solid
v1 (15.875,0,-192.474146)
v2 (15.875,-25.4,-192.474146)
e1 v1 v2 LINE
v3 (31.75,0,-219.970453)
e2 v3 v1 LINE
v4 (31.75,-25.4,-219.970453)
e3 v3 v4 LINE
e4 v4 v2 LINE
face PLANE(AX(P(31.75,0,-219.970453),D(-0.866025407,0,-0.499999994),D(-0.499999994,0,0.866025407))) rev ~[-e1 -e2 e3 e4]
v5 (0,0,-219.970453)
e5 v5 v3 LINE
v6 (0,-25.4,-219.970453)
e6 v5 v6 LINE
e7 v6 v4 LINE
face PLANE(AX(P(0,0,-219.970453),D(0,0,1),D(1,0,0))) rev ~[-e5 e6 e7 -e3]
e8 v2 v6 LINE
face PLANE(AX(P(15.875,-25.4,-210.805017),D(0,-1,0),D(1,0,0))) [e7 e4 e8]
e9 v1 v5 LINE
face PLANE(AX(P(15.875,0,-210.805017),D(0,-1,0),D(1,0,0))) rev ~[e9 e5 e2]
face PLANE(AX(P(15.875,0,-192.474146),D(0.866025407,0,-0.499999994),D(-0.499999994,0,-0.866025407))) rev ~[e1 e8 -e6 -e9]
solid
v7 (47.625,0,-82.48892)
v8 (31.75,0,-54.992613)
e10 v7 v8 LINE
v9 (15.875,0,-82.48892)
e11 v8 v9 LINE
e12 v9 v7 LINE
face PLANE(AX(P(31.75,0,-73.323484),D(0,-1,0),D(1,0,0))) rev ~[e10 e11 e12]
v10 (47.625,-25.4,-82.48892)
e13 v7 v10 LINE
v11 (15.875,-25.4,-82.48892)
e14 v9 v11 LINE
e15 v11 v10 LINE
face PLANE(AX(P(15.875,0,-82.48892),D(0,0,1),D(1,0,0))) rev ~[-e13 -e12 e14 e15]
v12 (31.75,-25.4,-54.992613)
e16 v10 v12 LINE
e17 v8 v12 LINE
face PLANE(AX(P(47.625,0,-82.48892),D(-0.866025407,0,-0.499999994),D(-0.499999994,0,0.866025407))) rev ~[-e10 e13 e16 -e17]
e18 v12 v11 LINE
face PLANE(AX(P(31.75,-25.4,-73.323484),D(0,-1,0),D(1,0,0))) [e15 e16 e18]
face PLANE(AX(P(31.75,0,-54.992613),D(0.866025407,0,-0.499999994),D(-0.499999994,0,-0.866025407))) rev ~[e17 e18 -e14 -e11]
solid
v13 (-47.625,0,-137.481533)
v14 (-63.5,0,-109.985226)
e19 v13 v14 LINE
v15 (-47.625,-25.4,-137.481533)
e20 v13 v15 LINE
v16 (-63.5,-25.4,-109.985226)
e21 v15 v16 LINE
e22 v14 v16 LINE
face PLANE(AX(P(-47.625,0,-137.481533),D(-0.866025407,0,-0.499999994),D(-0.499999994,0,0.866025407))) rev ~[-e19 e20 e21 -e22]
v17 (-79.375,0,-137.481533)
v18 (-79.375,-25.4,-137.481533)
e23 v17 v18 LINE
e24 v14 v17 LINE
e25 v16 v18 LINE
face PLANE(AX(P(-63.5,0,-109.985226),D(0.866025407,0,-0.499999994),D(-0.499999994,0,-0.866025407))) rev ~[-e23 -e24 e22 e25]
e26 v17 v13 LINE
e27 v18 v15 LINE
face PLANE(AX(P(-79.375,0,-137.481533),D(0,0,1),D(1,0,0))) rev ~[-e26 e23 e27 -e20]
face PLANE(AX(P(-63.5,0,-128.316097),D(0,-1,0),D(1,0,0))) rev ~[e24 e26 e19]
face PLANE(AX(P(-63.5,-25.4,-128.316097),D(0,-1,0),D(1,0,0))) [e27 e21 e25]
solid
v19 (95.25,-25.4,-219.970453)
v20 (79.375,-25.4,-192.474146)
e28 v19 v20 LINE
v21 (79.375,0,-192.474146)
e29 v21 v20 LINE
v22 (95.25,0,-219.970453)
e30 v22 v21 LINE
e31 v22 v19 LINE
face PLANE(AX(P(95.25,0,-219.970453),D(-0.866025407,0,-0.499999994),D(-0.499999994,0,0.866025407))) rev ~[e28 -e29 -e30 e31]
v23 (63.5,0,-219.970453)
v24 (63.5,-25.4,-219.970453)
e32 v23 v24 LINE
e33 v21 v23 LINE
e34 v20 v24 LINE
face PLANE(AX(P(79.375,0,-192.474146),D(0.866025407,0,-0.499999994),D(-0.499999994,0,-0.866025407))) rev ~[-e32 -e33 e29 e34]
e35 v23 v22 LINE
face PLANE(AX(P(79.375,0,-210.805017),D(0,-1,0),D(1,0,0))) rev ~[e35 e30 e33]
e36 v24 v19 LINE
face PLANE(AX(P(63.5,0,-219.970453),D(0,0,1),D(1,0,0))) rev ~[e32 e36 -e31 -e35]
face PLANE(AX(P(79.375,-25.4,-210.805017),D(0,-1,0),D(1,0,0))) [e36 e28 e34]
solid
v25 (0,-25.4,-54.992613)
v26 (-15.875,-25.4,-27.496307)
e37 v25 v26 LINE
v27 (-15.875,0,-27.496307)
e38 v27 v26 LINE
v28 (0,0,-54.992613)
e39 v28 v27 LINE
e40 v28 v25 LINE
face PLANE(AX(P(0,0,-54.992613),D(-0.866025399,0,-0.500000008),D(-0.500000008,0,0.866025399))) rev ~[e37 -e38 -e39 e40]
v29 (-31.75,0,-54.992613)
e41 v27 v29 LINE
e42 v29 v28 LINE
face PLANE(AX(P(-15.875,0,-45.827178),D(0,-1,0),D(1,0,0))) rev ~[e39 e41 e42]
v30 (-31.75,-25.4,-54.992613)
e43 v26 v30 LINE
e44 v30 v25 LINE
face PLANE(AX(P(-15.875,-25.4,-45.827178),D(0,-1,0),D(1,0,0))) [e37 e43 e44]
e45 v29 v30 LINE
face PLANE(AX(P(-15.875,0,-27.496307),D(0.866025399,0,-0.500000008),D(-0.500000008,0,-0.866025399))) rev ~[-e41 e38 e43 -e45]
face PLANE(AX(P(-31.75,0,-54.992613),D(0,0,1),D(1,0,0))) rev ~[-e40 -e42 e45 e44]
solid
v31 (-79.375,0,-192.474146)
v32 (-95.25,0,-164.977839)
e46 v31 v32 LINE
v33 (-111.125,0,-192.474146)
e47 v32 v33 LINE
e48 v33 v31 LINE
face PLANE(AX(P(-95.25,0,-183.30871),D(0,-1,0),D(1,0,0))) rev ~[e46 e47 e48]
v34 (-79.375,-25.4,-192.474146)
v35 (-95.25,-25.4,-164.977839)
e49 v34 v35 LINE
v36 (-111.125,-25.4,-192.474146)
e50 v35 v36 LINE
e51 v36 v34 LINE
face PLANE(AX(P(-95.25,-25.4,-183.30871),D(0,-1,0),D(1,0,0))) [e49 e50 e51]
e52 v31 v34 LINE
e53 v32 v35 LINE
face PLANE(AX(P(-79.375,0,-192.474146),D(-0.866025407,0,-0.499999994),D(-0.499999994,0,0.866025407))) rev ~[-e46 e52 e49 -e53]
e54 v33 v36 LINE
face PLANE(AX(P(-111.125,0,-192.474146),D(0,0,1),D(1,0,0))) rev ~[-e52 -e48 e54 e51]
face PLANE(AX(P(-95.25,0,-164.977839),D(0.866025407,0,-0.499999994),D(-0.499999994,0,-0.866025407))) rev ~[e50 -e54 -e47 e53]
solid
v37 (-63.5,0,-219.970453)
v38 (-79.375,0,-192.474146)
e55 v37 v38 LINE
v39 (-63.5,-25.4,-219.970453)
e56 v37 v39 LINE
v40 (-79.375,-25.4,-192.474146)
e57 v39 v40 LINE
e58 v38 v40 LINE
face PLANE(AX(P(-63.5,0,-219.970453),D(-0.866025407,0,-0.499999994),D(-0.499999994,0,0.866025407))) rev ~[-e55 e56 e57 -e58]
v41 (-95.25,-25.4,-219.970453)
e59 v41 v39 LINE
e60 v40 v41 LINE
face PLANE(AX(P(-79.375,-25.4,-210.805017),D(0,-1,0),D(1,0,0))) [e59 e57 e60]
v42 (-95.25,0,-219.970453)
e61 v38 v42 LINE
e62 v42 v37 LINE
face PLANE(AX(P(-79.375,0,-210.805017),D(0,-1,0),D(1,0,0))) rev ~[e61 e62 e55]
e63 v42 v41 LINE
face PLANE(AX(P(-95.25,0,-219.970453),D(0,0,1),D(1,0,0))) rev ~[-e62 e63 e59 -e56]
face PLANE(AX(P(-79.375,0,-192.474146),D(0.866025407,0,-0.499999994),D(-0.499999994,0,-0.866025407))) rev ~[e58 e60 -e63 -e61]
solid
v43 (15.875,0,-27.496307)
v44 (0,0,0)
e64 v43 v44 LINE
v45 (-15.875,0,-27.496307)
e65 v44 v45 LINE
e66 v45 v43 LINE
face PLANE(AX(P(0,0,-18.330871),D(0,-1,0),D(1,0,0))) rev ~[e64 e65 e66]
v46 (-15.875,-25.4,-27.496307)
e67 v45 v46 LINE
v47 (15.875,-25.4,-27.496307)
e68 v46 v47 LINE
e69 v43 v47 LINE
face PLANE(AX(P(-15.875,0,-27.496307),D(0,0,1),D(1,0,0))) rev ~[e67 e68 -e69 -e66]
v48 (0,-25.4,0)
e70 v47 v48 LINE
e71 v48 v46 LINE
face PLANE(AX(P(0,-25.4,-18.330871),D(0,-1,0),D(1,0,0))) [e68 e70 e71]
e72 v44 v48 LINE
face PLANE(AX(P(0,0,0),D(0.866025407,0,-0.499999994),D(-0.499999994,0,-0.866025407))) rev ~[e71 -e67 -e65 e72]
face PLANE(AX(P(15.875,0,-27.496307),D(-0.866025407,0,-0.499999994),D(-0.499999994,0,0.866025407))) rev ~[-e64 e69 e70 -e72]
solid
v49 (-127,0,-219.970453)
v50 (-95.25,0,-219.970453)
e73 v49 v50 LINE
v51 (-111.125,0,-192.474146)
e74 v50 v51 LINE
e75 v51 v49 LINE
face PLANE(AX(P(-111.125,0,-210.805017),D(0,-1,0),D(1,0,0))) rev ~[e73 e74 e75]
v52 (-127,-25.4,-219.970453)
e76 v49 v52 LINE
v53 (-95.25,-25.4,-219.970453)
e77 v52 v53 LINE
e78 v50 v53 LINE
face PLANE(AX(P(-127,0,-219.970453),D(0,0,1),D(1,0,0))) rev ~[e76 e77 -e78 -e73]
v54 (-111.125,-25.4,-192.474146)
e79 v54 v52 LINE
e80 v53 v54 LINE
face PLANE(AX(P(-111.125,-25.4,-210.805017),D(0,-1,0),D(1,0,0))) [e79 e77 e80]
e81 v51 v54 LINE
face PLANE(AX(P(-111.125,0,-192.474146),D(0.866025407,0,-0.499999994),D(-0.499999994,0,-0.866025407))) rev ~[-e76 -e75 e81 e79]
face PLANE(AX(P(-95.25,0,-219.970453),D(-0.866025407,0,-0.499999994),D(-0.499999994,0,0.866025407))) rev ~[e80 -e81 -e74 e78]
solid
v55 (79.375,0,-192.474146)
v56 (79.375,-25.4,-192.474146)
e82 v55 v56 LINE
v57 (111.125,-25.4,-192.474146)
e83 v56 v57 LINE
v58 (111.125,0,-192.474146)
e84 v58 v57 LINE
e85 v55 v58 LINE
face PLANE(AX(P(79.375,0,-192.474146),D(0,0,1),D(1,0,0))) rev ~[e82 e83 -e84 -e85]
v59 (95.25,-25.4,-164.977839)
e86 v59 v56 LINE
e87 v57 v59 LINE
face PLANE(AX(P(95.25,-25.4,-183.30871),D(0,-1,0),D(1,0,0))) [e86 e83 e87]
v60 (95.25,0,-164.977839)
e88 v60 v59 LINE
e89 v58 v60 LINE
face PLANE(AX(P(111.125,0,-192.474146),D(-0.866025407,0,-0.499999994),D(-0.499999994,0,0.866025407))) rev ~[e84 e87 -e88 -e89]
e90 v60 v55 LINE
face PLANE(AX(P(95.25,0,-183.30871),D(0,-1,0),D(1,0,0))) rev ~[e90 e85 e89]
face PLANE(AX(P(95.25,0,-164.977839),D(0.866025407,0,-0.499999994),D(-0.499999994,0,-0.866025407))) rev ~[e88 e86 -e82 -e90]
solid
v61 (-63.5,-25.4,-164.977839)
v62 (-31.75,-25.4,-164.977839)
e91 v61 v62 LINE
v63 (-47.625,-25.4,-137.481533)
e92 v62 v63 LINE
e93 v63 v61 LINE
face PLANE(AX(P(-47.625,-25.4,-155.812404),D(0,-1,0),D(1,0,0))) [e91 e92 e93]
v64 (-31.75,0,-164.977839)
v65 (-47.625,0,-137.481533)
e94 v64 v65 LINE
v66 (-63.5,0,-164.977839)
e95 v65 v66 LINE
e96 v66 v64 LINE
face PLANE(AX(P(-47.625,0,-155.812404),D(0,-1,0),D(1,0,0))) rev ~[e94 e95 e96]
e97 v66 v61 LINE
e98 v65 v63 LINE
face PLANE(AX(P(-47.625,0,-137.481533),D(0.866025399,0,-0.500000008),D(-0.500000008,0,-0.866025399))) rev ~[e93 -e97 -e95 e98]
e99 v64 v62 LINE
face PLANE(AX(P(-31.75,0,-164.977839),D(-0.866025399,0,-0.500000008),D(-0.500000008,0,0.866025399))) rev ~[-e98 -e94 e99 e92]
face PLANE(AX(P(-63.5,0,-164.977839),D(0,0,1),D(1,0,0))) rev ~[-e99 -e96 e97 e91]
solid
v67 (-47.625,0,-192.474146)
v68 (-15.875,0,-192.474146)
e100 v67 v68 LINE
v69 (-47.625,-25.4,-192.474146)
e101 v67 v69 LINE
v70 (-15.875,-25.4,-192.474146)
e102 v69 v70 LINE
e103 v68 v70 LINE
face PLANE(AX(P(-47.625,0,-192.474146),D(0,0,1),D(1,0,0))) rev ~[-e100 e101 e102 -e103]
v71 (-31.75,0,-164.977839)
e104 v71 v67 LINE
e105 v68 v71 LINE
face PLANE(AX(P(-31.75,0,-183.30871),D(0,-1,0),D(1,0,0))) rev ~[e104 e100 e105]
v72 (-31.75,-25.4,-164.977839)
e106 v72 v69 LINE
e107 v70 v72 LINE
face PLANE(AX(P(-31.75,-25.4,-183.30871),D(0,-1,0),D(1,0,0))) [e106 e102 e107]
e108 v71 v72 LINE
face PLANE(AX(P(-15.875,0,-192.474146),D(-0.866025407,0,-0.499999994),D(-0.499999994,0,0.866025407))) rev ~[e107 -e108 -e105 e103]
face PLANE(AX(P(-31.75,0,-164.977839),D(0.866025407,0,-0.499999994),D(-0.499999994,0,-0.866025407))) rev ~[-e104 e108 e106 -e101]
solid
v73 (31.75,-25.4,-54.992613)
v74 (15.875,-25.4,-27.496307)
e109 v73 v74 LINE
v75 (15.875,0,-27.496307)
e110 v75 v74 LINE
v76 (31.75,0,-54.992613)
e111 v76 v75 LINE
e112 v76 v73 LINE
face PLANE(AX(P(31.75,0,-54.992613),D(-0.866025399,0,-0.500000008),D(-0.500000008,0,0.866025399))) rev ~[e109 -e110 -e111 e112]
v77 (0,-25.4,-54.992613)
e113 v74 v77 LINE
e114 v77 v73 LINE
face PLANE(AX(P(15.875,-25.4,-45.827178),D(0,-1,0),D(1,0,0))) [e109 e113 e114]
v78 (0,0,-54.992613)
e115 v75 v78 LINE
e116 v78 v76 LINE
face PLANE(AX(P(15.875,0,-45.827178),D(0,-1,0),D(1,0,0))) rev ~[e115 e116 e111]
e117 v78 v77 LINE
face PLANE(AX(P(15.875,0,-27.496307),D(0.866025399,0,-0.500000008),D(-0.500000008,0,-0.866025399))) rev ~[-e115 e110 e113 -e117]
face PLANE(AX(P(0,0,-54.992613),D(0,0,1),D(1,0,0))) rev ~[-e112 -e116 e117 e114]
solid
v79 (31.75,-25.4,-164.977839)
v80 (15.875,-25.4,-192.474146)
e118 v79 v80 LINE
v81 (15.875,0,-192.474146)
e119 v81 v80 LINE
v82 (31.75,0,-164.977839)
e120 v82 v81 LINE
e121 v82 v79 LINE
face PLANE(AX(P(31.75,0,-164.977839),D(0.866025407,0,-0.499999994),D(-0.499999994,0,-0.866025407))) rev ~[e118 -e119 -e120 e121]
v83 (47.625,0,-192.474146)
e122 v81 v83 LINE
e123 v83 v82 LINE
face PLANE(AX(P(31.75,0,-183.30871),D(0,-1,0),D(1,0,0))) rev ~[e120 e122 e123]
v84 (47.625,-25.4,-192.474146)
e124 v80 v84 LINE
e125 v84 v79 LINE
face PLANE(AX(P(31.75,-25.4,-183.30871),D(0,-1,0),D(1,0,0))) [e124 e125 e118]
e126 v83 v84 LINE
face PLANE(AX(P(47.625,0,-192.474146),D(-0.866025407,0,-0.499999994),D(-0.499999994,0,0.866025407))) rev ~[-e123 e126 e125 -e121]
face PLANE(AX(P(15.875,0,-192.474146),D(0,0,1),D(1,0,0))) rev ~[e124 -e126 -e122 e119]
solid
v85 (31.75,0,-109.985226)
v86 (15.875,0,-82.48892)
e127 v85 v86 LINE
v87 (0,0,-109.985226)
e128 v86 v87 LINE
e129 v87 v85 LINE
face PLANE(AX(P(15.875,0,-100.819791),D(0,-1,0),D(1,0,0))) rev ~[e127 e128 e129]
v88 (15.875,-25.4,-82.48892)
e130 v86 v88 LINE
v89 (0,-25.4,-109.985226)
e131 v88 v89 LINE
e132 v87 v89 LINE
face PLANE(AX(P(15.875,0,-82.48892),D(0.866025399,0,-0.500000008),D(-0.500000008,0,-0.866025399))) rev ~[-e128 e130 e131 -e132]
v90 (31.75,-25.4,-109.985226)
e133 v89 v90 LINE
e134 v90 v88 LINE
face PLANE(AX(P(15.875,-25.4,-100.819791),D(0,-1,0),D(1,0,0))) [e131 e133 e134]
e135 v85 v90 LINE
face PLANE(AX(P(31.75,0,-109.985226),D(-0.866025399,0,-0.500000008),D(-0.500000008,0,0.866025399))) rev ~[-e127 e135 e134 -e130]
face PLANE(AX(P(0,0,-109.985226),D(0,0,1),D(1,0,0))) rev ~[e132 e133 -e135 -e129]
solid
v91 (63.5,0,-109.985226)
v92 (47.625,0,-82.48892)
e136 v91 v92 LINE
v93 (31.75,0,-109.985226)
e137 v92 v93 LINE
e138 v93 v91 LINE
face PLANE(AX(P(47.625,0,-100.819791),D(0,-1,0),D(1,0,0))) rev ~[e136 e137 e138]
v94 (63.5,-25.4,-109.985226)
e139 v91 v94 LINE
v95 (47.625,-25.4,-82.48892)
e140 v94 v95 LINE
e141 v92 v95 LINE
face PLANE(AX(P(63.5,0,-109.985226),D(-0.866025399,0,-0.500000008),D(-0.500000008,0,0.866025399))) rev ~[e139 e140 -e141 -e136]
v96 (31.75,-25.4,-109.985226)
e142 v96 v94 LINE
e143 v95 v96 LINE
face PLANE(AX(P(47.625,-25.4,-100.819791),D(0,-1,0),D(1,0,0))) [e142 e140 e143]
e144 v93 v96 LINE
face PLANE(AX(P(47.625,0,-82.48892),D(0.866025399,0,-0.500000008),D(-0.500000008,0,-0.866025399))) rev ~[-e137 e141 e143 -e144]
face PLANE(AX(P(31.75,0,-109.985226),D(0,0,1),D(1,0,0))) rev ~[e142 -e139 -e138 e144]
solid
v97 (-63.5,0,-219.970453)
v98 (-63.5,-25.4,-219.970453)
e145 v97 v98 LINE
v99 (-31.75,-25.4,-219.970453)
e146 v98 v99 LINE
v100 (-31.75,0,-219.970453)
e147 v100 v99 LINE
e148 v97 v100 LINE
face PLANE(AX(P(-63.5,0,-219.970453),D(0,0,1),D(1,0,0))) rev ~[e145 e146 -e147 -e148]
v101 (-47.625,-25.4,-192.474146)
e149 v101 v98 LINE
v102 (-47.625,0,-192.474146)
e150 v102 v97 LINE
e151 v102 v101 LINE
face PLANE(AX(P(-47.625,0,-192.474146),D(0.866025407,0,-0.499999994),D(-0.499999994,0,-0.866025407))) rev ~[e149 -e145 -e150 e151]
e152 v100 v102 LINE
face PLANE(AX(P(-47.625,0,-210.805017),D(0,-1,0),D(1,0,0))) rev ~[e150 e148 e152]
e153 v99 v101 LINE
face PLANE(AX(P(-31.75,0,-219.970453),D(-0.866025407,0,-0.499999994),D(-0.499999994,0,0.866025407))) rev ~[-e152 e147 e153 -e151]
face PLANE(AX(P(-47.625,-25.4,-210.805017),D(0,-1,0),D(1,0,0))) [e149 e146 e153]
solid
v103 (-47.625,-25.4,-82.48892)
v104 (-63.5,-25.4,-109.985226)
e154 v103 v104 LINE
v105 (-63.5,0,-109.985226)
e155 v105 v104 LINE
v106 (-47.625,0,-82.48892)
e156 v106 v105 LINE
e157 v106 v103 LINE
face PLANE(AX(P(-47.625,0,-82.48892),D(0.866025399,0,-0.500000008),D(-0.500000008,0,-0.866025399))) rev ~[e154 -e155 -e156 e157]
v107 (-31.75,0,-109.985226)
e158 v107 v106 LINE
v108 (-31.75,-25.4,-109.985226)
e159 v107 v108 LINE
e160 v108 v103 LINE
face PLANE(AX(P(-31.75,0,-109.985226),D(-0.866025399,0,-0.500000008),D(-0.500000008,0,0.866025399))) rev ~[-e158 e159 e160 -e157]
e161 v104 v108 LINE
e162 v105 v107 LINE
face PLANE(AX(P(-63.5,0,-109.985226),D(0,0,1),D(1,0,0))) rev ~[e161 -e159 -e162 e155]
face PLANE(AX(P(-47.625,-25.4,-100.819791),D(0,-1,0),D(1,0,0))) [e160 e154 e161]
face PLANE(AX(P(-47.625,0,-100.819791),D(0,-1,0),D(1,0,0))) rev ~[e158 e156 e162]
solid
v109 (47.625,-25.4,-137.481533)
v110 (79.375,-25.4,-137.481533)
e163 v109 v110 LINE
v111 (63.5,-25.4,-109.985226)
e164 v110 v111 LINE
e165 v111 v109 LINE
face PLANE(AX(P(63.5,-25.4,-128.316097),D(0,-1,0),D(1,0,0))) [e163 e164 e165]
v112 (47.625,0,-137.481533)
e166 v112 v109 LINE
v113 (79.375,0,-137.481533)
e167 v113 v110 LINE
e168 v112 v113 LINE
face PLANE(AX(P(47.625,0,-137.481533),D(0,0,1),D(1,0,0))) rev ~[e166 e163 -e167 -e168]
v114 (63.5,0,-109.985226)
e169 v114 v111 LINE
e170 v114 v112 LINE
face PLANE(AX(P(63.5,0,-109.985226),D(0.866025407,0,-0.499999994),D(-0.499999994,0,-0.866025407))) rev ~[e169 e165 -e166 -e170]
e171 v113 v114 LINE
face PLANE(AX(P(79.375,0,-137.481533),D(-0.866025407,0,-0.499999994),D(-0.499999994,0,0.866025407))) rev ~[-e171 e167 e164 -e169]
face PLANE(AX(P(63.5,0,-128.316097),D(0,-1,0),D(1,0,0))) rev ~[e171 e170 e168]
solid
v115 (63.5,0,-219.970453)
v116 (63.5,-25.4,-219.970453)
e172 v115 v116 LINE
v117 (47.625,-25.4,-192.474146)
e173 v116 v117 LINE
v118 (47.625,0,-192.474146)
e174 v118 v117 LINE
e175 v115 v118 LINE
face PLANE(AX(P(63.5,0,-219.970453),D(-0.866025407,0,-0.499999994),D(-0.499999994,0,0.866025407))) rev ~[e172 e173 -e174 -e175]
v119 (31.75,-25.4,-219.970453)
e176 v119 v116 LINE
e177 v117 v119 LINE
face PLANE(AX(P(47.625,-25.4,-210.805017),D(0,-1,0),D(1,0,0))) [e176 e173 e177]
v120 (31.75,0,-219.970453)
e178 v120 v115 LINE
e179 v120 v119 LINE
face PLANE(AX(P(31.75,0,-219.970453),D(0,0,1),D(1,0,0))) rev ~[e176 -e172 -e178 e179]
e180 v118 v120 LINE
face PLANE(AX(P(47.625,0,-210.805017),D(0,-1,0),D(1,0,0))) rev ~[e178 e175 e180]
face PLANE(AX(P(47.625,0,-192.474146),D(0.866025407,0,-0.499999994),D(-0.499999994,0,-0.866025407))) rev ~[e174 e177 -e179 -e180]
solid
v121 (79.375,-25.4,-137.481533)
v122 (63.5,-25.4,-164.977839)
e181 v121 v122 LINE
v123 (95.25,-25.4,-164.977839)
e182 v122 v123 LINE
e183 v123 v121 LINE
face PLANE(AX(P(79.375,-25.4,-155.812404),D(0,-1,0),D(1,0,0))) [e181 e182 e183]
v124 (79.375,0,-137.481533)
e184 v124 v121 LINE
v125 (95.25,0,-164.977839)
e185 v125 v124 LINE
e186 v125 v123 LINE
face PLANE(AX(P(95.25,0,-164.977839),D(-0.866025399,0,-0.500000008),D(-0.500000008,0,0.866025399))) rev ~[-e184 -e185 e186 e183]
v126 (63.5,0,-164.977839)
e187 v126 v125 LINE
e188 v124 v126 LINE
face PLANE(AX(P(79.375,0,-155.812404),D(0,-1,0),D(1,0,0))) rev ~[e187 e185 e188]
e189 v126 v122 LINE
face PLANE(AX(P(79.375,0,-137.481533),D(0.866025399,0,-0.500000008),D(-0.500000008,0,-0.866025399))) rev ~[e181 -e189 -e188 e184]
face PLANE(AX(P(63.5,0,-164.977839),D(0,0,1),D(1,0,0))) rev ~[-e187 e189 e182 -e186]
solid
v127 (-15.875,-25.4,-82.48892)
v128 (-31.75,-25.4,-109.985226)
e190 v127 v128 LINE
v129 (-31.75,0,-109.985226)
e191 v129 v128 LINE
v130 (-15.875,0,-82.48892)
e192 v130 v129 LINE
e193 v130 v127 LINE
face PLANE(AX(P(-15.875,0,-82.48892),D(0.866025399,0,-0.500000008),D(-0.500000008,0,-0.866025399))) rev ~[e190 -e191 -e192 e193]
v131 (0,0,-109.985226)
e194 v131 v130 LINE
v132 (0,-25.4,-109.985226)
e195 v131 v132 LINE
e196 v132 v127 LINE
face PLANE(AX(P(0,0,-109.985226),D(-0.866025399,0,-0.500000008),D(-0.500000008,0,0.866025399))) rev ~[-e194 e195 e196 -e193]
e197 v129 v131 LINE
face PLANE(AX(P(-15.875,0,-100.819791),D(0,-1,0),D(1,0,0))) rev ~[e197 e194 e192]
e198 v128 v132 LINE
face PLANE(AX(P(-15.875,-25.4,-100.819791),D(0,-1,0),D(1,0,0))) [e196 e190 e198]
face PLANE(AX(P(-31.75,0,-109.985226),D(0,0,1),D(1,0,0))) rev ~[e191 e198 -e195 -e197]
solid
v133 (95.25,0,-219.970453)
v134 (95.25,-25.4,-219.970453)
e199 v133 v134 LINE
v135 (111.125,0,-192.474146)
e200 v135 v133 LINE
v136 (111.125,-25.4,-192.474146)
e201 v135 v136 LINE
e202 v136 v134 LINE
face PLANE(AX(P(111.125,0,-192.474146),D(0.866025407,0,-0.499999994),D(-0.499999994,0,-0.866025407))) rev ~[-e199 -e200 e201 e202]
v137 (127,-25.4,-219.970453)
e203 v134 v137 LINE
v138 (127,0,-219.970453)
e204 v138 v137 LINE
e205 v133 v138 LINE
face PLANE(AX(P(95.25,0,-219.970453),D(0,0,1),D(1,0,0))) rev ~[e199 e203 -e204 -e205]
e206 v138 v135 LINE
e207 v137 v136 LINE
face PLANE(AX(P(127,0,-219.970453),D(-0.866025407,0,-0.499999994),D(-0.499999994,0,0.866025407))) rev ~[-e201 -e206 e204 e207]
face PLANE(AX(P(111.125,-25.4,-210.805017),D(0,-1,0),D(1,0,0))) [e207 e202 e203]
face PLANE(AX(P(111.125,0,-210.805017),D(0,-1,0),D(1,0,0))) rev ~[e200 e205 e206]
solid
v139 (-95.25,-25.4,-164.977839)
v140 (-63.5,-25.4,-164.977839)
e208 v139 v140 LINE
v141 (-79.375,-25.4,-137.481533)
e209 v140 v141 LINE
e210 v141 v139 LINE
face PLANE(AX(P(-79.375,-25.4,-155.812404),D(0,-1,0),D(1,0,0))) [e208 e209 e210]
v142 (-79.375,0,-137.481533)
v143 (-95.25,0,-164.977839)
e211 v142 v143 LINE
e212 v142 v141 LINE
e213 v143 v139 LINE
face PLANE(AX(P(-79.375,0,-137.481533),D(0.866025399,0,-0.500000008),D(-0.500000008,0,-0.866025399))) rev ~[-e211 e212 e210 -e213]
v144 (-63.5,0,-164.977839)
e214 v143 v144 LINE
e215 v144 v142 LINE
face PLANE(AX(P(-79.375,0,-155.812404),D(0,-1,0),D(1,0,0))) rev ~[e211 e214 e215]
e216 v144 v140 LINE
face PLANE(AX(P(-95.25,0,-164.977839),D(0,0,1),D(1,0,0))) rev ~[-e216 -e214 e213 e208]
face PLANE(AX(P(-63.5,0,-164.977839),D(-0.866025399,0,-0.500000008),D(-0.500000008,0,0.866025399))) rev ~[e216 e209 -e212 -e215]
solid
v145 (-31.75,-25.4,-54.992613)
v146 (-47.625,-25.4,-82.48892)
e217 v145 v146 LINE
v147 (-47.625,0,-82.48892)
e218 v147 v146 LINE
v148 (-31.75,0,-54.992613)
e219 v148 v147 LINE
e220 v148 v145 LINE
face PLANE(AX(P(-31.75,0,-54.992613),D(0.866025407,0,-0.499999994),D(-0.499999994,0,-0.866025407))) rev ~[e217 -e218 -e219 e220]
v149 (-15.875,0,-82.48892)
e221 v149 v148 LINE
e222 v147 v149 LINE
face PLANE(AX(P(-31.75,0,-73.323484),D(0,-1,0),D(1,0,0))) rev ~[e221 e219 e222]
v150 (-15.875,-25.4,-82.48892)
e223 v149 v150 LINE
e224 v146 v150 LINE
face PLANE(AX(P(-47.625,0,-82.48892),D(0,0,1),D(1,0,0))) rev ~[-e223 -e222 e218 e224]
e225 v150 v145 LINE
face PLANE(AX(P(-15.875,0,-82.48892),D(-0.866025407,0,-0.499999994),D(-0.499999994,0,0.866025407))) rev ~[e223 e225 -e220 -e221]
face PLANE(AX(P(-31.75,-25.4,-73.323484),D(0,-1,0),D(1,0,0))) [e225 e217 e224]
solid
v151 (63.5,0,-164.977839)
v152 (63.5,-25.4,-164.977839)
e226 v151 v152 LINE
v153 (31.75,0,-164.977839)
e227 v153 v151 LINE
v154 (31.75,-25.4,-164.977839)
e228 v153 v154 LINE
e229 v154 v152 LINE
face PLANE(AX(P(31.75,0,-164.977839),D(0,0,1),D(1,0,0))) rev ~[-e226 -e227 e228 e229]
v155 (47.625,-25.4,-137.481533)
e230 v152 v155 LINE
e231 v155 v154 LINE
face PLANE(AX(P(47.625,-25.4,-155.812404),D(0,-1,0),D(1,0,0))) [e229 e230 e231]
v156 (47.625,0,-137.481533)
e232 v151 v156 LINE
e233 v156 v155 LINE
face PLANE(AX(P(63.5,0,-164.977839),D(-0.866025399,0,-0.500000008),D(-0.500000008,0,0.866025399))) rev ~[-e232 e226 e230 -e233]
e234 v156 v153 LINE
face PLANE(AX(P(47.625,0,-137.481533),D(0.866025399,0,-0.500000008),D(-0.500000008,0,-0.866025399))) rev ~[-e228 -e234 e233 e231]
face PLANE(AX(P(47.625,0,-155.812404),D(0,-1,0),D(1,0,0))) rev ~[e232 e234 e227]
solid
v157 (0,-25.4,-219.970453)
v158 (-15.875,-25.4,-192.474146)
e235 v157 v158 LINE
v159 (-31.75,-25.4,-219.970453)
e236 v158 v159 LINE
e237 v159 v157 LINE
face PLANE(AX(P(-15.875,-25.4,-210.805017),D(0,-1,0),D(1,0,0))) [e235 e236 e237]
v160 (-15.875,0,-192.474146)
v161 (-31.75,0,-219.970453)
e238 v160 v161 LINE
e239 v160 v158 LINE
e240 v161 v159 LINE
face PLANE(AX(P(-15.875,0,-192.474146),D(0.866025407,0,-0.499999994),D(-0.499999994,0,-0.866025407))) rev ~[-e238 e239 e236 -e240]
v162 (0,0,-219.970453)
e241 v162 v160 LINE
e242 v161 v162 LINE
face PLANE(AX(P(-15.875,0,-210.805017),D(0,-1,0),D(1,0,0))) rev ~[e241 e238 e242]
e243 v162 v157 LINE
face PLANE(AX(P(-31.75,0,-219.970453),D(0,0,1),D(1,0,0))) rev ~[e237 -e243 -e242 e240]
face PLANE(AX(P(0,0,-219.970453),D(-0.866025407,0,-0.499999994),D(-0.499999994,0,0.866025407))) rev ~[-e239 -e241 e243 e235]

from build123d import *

# Parameters (mm, degrees)
F1_DEPTH = 25.4


with BuildPart() as f1:
    # F0 (on Front) → F1 (new body)
    with BuildSketch(Plane.XZ):
        Polygon((15.875, -27.496307), (0, 0), (-15.875, -27.496307), align=None)
        Polygon((0, -54.992613), (-15.875, -27.496307), (-31.75, -54.992613), align=None)
        Polygon((31.75, -54.992613), (15.875, -27.496307), (0, -54.992613), align=None)
        Polygon((-15.875, -82.48892), (-31.75, -54.992613), (-47.625, -82.48892), align=None)
        Polygon((-31.75, -109.985226), (-47.625, -82.48892), (-63.5, -109.985226), align=None)
        Polygon((0, -109.985226), (-15.875, -82.48892), (-31.75, -109.985226), align=None)
        Polygon((31.75, -109.985226), (15.875, -82.48892), (0, -109.985226), align=None)
        Polygon((47.625, -82.48892), (31.75, -54.992613), (15.875, -82.48892), align=None)
        Polygon((63.5, -109.985226), (47.625, -82.48892), (31.75, -109.985226), align=None)
        Polygon((79.375, -137.481533), (63.5, -109.985226), (47.625, -137.481533), align=None)
        Polygon((63.5, -164.977839), (47.625, -137.481533), (31.75, -164.977839), align=None)
        Polygon((95.25, -164.977839), (79.375, -137.481533), (63.5, -164.977839), align=None)
        Polygon((111.125, -192.474146), (95.25, -164.977839), (79.375, -192.474146), align=None)
        Polygon((95.25, -219.970453), (79.375, -192.474146), (63.5, -219.970453), align=None)
        Polygon((127, -219.970453), (111.125, -192.474146), (95.25, -219.970453), align=None)
        Polygon((47.625, -192.474146), (31.75, -164.977839), (15.875, -192.474146), align=None)
        Polygon((63.5, -219.970453), (47.625, -192.474146), (31.75, -219.970453), align=None)
        Polygon((31.75, -219.970453), (15.875, -192.474146), (0, -219.970453), align=None)
        Polygon((0, -219.970453), (-15.875, -192.474146), (-31.75, -219.970453), align=None)
        Polygon((-15.875, -192.474146), (-31.75, -164.977839), (-47.625, -192.474146), align=None)
        Polygon((-31.75, -219.970453), (-47.625, -192.474146), (-63.5, -219.970453), align=None)
        Polygon((-63.5, -219.970453), (-79.375, -192.474146), (-95.25, -219.970453), align=None)
        Polygon((-95.25, -219.970453), (-111.125, -192.474146), (-127, -219.970453), align=None)
        Polygon((-79.375, -192.474146), (-95.25, -164.977839), (-111.125, -192.474146), align=None)
        Polygon((-63.5, -164.977839), (-79.375, -137.481533), (-95.25, -164.977839), align=None)
        Polygon((-31.75, -164.977839), (-47.625, -137.481533), (-63.5, -164.977839), align=None)
        Polygon((-47.625, -137.481533), (-63.5, -109.985226), (-79.375, -137.481533), align=None)
    extrude(amount=F1_DEPTH)


solid = f1.part
